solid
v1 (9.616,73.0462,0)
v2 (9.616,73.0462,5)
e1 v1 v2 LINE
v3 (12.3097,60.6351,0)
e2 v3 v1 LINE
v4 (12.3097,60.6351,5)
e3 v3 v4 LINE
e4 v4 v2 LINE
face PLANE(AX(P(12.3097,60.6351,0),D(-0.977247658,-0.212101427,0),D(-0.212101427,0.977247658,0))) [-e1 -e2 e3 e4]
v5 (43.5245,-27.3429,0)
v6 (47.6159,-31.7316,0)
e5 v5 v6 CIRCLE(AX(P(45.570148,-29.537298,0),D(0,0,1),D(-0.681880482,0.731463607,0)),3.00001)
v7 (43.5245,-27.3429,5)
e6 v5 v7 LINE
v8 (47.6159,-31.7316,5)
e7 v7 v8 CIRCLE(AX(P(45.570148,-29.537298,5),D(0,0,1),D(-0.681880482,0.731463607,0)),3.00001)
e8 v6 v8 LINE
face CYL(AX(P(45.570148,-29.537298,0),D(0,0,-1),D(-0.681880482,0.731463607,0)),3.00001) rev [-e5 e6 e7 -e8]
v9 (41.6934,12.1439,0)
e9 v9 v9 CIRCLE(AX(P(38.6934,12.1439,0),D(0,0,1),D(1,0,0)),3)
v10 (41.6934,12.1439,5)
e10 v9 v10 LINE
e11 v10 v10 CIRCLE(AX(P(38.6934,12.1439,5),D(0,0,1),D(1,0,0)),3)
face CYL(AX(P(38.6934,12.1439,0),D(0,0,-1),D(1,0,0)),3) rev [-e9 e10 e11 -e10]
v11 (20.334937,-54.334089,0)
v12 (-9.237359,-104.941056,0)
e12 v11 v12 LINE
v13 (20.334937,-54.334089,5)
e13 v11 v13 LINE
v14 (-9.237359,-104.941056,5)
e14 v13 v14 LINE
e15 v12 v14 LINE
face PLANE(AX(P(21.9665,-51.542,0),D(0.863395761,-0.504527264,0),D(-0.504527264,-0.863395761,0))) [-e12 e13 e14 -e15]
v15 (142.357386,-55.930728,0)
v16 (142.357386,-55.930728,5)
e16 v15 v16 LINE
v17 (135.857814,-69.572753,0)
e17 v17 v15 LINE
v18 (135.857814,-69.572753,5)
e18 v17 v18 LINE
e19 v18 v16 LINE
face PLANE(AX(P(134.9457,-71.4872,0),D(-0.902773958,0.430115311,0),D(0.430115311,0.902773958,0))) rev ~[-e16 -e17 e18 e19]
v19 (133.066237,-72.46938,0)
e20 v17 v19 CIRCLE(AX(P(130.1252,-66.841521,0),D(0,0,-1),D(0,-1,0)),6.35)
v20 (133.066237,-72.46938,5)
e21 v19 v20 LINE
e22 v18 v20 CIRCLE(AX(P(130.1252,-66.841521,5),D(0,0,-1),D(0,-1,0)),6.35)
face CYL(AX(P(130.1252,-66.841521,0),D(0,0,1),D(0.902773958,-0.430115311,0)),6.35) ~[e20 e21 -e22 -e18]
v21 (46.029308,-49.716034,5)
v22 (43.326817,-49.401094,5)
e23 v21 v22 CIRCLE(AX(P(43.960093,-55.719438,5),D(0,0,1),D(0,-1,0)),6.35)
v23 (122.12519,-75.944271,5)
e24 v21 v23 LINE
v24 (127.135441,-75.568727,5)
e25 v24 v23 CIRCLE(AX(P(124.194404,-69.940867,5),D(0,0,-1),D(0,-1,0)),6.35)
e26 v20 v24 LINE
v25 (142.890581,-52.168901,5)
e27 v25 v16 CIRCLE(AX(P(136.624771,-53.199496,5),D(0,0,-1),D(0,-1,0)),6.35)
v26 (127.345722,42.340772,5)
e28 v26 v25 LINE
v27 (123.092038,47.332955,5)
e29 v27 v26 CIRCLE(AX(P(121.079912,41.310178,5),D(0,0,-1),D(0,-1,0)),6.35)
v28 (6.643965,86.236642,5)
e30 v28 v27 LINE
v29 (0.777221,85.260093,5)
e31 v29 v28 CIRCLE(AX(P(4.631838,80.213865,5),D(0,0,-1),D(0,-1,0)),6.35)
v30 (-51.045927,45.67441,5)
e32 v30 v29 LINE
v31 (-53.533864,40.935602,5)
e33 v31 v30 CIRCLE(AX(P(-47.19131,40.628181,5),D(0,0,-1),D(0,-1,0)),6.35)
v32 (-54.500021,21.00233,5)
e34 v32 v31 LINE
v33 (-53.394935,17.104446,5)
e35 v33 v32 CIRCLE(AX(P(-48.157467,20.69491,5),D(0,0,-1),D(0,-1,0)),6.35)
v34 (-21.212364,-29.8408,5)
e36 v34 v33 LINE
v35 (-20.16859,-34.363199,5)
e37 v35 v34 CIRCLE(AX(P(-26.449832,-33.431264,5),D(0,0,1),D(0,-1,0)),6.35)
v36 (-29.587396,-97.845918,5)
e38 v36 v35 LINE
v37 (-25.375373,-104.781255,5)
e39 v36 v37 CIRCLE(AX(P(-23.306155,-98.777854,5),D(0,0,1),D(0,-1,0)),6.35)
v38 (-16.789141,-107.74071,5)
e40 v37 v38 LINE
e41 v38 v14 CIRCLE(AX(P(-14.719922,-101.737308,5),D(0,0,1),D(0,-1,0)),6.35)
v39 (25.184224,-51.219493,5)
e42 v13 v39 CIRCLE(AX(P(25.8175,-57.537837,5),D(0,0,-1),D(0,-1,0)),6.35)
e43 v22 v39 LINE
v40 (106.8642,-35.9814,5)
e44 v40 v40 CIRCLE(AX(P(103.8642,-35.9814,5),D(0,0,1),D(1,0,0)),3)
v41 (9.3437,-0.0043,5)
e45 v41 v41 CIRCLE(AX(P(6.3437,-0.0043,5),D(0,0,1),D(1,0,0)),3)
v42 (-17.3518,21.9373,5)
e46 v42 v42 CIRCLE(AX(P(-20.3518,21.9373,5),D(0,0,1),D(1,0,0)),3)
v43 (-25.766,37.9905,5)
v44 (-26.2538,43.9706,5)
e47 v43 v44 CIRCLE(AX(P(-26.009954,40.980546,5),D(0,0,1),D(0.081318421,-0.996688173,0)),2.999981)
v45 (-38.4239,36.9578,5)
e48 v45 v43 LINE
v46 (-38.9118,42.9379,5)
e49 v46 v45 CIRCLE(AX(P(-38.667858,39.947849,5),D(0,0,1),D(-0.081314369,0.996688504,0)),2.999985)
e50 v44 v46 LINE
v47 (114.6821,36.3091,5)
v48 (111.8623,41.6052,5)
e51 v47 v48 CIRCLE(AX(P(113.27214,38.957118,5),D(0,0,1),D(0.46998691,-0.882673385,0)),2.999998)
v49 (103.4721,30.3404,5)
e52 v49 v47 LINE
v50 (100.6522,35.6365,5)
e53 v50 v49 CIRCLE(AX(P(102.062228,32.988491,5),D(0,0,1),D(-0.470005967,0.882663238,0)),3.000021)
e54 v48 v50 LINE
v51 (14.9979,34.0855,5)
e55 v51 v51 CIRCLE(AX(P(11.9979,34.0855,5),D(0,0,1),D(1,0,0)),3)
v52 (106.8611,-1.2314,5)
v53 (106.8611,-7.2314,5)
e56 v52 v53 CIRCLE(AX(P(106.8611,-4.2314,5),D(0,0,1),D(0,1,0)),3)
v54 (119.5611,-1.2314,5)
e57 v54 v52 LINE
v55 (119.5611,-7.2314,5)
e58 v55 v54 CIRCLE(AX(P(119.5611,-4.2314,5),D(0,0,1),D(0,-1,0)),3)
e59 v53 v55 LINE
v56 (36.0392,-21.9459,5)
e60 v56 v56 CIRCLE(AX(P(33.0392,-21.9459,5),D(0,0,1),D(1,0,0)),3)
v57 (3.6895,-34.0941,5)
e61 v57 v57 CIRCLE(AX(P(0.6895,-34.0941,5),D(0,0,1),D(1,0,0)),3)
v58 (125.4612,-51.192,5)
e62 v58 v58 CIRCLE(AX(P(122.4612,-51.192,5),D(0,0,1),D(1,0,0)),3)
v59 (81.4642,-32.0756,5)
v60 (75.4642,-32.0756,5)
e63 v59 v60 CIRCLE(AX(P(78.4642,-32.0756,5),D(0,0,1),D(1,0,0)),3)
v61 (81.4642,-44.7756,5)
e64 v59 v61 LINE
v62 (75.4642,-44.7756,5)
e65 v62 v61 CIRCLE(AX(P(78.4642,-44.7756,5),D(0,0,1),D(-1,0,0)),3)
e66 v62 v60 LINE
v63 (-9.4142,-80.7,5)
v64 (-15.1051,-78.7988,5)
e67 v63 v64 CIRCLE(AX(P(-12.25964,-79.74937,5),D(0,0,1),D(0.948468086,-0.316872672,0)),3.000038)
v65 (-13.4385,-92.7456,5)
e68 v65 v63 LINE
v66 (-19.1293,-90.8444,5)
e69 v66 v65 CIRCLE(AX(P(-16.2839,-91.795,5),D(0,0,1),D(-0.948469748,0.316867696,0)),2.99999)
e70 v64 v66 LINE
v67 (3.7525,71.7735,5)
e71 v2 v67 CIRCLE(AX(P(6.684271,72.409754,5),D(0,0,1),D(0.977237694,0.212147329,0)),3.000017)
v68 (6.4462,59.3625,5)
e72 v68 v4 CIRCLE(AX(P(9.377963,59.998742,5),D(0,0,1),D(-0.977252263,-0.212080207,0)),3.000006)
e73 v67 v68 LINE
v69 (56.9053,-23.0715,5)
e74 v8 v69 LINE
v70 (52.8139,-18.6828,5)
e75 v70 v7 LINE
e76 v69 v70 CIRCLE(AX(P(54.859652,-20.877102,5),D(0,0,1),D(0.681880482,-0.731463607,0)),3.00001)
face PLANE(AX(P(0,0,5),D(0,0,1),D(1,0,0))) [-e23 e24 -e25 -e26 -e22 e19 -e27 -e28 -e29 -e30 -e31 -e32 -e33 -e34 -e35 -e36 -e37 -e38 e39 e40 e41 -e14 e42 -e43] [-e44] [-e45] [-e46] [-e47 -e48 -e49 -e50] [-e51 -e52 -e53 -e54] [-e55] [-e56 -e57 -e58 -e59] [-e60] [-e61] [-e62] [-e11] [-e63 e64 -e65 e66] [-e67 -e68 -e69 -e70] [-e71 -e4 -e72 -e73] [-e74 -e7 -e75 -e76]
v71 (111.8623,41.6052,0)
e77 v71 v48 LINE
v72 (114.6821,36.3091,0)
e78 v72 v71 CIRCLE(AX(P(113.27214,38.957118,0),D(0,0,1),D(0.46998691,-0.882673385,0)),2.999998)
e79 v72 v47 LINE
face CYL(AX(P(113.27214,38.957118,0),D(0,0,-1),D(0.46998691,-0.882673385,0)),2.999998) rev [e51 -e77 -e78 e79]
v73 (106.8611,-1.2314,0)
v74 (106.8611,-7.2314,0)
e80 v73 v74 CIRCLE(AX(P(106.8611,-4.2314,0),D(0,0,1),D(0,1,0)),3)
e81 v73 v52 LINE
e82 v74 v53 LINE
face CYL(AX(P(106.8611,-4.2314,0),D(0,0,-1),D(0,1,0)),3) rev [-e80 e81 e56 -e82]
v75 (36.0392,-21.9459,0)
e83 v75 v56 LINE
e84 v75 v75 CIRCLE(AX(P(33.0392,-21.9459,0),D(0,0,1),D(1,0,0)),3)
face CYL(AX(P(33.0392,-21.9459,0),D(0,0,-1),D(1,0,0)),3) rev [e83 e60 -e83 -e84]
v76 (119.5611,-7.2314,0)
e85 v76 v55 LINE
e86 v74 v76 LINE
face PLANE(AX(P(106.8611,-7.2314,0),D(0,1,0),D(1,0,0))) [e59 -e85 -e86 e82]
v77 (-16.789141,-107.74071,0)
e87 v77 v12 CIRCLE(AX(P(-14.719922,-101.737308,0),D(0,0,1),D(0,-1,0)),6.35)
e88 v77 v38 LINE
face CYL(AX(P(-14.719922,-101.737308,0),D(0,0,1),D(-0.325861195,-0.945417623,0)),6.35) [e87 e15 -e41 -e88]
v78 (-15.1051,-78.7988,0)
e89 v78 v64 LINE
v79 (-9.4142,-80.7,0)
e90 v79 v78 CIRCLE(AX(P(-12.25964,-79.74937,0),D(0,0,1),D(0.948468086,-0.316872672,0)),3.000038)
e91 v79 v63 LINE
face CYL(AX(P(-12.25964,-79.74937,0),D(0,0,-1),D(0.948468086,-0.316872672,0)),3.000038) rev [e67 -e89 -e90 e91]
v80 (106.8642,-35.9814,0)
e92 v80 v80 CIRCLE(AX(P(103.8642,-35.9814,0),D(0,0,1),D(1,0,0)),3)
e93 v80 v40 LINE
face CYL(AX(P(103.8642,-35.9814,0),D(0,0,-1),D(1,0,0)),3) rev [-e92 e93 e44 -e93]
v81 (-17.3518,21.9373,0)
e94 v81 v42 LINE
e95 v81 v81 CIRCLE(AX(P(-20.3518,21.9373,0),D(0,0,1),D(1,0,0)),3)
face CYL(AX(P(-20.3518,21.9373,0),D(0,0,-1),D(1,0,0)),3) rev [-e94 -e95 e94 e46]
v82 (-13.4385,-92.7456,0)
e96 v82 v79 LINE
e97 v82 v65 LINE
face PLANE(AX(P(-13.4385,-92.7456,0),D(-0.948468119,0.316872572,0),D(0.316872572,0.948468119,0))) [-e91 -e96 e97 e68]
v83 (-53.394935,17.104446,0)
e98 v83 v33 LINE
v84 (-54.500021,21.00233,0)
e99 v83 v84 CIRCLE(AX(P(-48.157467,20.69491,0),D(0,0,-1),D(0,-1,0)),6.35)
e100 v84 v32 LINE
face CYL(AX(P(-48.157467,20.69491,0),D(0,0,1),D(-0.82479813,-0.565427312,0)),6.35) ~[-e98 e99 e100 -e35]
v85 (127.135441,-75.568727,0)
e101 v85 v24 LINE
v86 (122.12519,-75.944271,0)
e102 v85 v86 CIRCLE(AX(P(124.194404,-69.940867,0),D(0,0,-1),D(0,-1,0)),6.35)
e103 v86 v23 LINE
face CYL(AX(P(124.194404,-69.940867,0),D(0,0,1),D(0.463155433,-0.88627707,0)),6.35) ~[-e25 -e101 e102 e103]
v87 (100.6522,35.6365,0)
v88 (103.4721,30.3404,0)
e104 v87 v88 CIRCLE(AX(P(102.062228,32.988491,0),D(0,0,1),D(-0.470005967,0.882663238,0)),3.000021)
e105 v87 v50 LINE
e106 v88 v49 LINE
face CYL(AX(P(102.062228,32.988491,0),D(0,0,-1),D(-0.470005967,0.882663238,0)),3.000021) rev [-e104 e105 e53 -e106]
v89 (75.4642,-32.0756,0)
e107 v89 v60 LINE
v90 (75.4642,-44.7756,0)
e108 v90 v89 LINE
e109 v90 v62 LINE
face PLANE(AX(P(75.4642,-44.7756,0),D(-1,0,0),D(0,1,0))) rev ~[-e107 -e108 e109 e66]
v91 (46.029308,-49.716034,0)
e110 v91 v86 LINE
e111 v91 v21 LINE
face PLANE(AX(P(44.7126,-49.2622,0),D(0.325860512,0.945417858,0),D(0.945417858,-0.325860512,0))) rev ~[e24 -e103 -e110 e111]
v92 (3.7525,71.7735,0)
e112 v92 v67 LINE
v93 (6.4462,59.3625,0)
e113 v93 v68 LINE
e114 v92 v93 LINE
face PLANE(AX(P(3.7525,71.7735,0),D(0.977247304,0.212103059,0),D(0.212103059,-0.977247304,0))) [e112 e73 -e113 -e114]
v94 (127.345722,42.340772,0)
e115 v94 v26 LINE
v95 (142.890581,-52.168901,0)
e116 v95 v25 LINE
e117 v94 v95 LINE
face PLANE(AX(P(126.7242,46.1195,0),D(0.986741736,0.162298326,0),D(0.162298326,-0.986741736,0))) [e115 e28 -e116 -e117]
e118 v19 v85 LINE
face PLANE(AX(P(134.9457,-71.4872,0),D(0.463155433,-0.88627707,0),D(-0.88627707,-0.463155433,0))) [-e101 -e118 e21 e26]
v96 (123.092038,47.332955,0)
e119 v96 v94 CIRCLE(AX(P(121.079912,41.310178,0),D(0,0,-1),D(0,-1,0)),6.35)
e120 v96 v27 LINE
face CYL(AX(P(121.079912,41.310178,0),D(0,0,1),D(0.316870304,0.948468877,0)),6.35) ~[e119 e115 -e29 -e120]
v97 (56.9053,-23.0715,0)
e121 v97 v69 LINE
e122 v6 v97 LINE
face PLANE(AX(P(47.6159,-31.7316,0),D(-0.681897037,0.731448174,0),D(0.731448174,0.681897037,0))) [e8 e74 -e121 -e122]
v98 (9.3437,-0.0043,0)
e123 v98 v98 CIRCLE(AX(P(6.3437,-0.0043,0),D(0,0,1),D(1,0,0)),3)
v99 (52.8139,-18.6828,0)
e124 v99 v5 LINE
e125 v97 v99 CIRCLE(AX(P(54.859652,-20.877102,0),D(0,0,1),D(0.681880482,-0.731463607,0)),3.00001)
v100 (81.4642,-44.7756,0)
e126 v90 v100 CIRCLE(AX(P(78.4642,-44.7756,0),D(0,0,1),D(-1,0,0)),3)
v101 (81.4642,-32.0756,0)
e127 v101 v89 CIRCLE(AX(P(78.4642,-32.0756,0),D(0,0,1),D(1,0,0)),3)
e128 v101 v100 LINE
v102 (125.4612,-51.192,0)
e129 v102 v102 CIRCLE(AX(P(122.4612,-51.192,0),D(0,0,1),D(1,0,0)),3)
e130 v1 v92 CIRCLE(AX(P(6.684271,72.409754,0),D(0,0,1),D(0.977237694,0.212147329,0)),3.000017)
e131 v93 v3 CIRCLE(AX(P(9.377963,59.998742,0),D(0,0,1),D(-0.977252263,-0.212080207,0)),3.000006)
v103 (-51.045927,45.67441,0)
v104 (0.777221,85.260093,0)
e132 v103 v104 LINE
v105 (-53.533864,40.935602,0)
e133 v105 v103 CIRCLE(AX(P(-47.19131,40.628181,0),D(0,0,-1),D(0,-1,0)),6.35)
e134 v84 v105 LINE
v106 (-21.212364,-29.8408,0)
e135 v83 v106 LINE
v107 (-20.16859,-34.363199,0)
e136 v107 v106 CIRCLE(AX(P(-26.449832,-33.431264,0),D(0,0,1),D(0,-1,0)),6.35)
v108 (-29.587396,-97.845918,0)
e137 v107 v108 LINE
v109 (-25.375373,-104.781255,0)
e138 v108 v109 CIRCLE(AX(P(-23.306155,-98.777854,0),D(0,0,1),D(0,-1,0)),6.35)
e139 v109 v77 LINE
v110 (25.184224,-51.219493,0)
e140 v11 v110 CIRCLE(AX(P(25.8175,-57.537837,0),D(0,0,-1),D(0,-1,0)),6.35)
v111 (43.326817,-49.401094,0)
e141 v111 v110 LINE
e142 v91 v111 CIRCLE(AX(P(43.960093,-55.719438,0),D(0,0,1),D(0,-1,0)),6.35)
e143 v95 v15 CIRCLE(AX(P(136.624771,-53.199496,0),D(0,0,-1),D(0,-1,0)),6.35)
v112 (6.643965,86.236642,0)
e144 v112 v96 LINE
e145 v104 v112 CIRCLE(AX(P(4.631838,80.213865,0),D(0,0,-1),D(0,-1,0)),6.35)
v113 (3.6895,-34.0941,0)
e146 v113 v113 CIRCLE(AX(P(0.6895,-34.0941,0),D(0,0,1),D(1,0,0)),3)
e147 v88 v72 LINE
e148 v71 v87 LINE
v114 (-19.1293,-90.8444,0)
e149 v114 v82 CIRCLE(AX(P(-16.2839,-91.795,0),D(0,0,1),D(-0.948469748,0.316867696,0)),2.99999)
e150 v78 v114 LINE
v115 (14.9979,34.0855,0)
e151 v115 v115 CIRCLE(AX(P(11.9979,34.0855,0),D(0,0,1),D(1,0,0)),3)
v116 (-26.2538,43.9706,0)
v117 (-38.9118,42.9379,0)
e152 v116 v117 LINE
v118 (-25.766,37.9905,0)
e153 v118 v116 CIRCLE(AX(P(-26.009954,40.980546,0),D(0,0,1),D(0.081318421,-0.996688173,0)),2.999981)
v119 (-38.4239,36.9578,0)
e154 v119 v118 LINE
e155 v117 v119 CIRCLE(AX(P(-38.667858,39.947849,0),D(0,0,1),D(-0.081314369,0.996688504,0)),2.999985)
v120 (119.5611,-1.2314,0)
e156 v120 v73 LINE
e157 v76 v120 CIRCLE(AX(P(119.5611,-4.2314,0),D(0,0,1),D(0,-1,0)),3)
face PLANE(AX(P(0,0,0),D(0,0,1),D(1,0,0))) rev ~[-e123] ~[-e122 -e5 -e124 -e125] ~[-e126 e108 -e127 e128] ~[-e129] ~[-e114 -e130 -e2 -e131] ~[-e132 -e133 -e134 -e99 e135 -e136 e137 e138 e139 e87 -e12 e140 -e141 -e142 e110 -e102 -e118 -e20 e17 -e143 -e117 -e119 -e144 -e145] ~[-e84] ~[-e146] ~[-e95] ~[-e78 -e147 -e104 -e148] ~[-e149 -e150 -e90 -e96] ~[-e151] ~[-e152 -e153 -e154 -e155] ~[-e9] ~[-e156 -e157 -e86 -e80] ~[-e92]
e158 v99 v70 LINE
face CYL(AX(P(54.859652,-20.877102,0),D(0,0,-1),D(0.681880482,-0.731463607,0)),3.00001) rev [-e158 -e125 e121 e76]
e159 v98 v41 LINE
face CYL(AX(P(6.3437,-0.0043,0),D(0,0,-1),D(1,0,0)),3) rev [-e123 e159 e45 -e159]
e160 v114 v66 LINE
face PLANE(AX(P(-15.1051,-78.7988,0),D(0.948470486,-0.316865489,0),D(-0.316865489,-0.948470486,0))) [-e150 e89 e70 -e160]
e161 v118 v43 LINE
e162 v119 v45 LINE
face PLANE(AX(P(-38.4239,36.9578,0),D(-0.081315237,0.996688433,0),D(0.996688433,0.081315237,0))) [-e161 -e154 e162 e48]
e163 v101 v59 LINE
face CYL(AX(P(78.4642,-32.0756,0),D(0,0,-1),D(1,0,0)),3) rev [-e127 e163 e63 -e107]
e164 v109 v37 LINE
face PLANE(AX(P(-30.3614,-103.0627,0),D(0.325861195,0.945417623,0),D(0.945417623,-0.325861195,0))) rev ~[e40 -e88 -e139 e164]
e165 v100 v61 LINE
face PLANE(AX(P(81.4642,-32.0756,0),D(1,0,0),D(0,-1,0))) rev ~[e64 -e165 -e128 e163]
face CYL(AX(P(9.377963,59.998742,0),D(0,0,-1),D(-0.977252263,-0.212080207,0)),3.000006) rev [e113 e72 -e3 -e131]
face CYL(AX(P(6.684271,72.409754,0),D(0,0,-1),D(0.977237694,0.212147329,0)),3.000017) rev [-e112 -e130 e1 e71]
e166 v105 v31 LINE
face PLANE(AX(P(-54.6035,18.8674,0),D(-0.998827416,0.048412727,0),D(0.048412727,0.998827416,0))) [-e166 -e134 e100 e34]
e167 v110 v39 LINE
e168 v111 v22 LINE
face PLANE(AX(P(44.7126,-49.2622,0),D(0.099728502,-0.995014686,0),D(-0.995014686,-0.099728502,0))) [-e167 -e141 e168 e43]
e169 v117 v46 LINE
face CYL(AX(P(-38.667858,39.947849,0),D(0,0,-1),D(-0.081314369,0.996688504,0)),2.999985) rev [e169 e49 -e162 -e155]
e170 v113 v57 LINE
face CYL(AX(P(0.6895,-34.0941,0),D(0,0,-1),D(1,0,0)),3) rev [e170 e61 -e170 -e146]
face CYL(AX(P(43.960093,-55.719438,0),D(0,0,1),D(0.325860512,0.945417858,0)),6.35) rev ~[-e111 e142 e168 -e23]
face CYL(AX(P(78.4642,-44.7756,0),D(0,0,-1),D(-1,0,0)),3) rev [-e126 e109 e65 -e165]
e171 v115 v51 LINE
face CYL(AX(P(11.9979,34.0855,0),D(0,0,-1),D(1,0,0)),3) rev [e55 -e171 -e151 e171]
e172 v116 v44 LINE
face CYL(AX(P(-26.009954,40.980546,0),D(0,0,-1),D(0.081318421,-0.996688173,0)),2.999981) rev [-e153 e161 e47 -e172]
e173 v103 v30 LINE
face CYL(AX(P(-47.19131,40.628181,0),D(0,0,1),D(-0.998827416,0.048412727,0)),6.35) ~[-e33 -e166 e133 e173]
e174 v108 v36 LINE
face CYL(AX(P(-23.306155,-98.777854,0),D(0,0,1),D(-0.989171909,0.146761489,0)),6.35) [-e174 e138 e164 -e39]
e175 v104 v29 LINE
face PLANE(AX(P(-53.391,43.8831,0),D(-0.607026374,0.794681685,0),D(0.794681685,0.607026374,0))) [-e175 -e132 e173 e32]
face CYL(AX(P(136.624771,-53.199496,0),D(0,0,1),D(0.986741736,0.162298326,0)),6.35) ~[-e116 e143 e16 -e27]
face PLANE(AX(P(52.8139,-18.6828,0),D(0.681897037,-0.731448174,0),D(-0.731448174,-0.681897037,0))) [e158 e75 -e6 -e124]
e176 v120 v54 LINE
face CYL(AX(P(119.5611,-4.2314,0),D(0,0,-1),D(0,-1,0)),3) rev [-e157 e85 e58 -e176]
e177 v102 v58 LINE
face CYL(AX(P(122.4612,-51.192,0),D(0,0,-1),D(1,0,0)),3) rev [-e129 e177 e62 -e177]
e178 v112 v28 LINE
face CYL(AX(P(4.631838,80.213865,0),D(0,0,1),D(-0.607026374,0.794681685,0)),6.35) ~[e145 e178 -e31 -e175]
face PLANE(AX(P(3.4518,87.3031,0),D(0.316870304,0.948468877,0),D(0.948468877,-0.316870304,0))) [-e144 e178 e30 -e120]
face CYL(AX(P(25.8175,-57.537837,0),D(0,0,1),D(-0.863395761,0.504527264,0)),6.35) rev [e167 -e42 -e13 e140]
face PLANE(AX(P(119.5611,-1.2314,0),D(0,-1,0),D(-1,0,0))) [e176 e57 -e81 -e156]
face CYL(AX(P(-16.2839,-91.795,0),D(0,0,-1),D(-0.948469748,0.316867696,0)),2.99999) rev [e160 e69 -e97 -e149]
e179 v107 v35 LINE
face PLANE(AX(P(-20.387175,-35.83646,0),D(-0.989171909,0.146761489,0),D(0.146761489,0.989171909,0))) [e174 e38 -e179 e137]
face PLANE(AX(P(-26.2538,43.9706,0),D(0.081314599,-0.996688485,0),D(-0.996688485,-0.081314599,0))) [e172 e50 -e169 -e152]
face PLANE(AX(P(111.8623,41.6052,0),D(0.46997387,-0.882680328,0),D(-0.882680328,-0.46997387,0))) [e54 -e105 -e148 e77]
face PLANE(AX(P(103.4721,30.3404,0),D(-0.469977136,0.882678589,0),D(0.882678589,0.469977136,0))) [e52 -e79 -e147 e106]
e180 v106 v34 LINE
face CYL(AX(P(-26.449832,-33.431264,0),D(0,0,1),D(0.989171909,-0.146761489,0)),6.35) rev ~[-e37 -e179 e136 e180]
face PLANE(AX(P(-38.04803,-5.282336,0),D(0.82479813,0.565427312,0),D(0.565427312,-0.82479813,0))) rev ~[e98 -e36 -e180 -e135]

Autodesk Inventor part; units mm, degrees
ref_plane "YZ Plane" through (0, 0, 0) normal (1, 0, 0) x (0, 1, 0)
ref_plane "XZ Plane" through (0, 0, 0) normal (0, 1, 0) x (-1, 0, 0)
ref_plane "XY Plane" through (0, 0, 0) normal (0, 0, 1) x (1, 0, 0)
sketch "Base" plane through (0, 0, 0) normal (0, 0, 1) x (1, 0, 0)
  circle A0 centre (6.3437, -0.0043) radius 44.7044
  line L0 (-53.391, 43.8831) -> (3.4518, 87.3031)
  line L1 (3.4518, 87.3031) -> (126.7242, 46.1195)
  line L2 (21.9665, -51.542) -> (-11.8651, -109.4379)
  line L3 (134.9457, -71.4872) -> (143.2137, -54.1334)
  line L4 (44.7126, -49.2622) -> (124.7112, -76.8356)
  line L5 (44.7126, -49.2622) -> (21.9665, -51.542)
  line L6 (126.7242, 46.1195) -> (143.2137, -54.1334)
  line L7 (134.9457, -71.4872) -> (124.7112, -76.8356)
  line L8 (-30.3614, -103.0627) -> (-11.8651, -109.4379)
  line L9 (-30.3614, -103.0627) -> (-19.8027, -31.8971)
  line L10 (-54.6035, 18.8674) -> (-53.391, 43.8831)
  line L11 (-54.6035, 18.8674) -> (-19.8027, -31.8971)
  line L12 (-94.1669, 0) -> (182.7771, 0) construction
  circle A1 centre (6.3437, -0.0043) radius 3
  circle A2 centre (103.8642, -35.9814) radius 3
  line L13 (126.7242, 46.1195) -> (-19.8027, -31.8971) construction
  line L14 (3.4518, 87.3031) -> (33.3396, -50.4021) construction
  line L15 (-53.9972, 31.3753) -> (126.7242, 46.1195) construction
  line L16 (134.969, -4.007) -> (-37.2031, -6.5149) construction
  line L17 (-21.1132, -106.2503) -> (39.5241, 75.2519) construction
  line L18 (78.4642, -60.8955) -> (78.4642, 62.2425) construction
  line L19 (21.9665, -51.542) -> (126.7242, 46.1195) construction
  line L20 (0, 0) -> (-53.391, 43.8831) construction
  circle A3 centre (-20.3518, 21.9373) radius 3
  circle A4 centre (6.3437, -0.0043) radius 34.5555 construction
  circle A5 centre (-26.006, -12.1525) radius 3
  circle A6 centre (0.6895, -34.0941) radius 3
  circle A7 centre (33.0392, -21.9459) radius 3
  circle A8 centre (38.6934, 12.1439) radius 3
  circle A9 centre (11.9979, 34.0855) radius 3
  line L21 (113.2722, 38.9571) -> (102.0622, 32.9885) construction
  line L22 (111.8623, 41.6052) -> (100.6522, 35.6365)
  line L23 (103.4721, 30.3404) -> (114.6821, 36.3091)
  arc A10 (114.6821, 36.3091) -> (111.8623, 41.6052) centre (113.2722, 38.9571) ccw
  arc A11 (100.6522, 35.6365) -> (103.4721, 30.3404) centre (102.0622, 32.9885) ccw
  line L24 (119.5611, -4.2314) -> (106.8611, -4.2314) construction
  line L25 (119.5611, -1.2314) -> (106.8611, -1.2314)
  line L26 (106.8611, -7.2314) -> (119.5611, -7.2314)
  arc A12 (119.5611, -7.2314) -> (119.5611, -1.2314) centre (119.5611, -4.2314) ccw
  arc A13 (106.8611, -1.2314) -> (106.8611, -7.2314) centre (106.8611, -4.2314) ccw
  line L27 (6.6843, 72.4098) -> (9.378, 59.9988) construction
  line L28 (3.7525, 71.7735) -> (6.4462, 59.3625)
  line L29 (12.3097, 60.6351) -> (9.616, 73.0462)
  arc A14 (9.616, 73.0462) -> (3.7525, 71.7735) centre (6.6843, 72.4098) ccw
  arc A15 (6.4462, 59.3625) -> (12.3097, 60.6351) centre (9.378, 59.9988) ccw
  line L30 (-16.2839, -91.795) -> (-12.2597, -79.7494) construction
  line L31 (-13.4385, -92.7456) -> (-9.4142, -80.7)
  line L32 (-15.1051, -78.7988) -> (-19.1293, -90.8444)
  arc A16 (-19.1293, -90.8444) -> (-13.4385, -92.7456) centre (-16.2839, -91.795) ccw
  arc A17 (-9.4142, -80.7) -> (-15.1051, -78.7988) centre (-12.2597, -79.7494) ccw
  line L33 (78.4642, -44.7756) -> (78.4642, -32.0756) construction
  line L34 (75.4642, -44.7756) -> (75.4642, -32.0756)
  line L35 (81.4642, -32.0756) -> (81.4642, -44.7756)
  arc A18 (75.4642, -44.7756) -> (81.4642, -44.7756) centre (78.4642, -44.7756) ccw
  arc A19 (81.4642, -32.0756) -> (75.4642, -32.0756) centre (78.4642, -32.0756) ccw
  line L36 (-38.6678, 39.9478) -> (-26.0099, 40.9805) construction
  line L37 (-38.4239, 36.9578) -> (-25.766, 37.9905)
  line L38 (-26.2538, 43.9706) -> (-38.9118, 42.9379)
  arc A20 (-38.9118, 42.9379) -> (-38.4239, 36.9578) centre (-38.6678, 39.9478) ccw
  arc A21 (-25.766, 37.9905) -> (-26.2538, 43.9706) centre (-26.0099, 40.9805) ccw
  line L39 (45.5702, -29.5373) -> (54.8596, -20.8771) construction
  line L40 (47.6159, -31.7316) -> (56.9053, -23.0715)
  line L41 (52.8139, -18.6828) -> (43.5245, -27.3429)
  arc A22 (43.5245, -27.3429) -> (47.6159, -31.7316) centre (45.5702, -29.5373) ccw
  arc A23 (56.9053, -23.0715) -> (52.8139, -18.6828) centre (54.8596, -20.8771) ccw
  line L42 (-38.6678, 39.9478) -> (-53.391, 43.8831) construction
  circle A24 centre (122.4612, -51.192) radius 3
  point P0 (107.6672, 35.9728)
  point P1 (113.2111, -4.2314)
  point P2 (8.0311, 66.2043)
  point P3 (-14.2718, -85.7722)
  point P4 (78.4642, -38.4256)
  point P5 (-32.3389, 40.4642)
  point P6 (50.2149, -25.2072)
  dimension "d48" = 69.111
  dimension "d1" = 89.4088
  dimension "d2" = 55.568
  dimension "d3" = 37.094
  dimension "d4" = 120.3
  dimension "d5" = 81.561
  dimension "d6" = 160.982
  dimension "d7" = 133.392
  dimension "d8" = 143.066
  dimension "d9" = 145.185
  dimension "d10" = 124.151
  dimension "d11" = 130.15
  dimension "d12" = 142.793
  dimension "d13" = 117.814
  dimension "d14" = 19.5642
  dimension "d15" = 25.0158
  dimension "d16" = 71.529
  dimension "d17" = 61.5478
  dimension "d18" = 129.9699
  dimension "d19" = 101.6
  dimension "d20" = 19.2227
  dimension "d21" = 11.5477
  dimension "d22" = 84.6172
  dimension "d23" = 67.056
  dimension "d24" = 22.86
  dimension "d25" = 39.5986
  dimension "d26" = 71.1371
  dimension "d29" = 6
  dimension "d30" = 6
  dimension "d31" = 48.26
  dimension "d32" = 6
  dimension "d35" = 360
  dimension "d37" = 6
  dimension "d38" = 6
  dimension "d39" = 15.24
  dimension "d40" = 12.7
  dimension "d41" = 15.24
  dimension "d43" = 15.24
  dimension "d44" = 15.24
  dimension "d45" = 15.24
  dimension "d46" = 15.7016
  dimension "d49" = 140.583
  dimension "d50" = 4.2314
  dimension "d51" = 91.5631
  dimension "d52" = 12.1439
  dimension "d53" = 0
  dimension "d60" = 126.024
  dimension "d61" = 155.259
  dimension "d63" = 15.24
  dimension "d64" = 12.0647
  dimension "d67" = 25.4
  dimension "d68" = 31.75
  dimension "d69" = 6
  dimension "d70" = 20
  dimension "d71" = 20
  dimension "d72" = 3
  dimension "d73" = 3
  dimension "d74" = 3
  dimension "d75" = 3
  dimension "d76" = 3
  dimension "d77" = 3
  dimension "d78" = 3
  dimension "d79" = 3
  dimension "d80" = 3
  dimension "d81" = 3
extrude "Plate1" add sketch "Base" along normal blind 5 contours A0 L9 L11 | A0 L11 L10 L0 L1 L6 L3 L7 L4 L5 L2 L8 L9 | A5 picked at (-13.3863, 3.3874)
fillet "OutsideFilletsFeature" radius 6.35 12 edges at (126.7242, 46.1195, 2.5) (3.4518, 87.3031, 2.5) (143.2137, -54.1334, 2.5) (134.9457, -71.4872, 2.5) (124.7112, -76.8356, 2.5) (-11.8651, -109.4379, 2.5) (44.7126, -49.2622, 2.5) (21.9665, -51.542, 2.5) (-30.3614, -103.0627, 2.5) (-19.8027, -31.8971, 2.5) (-54.6035, 18.8674, 2.5) (-53.391, 43.8831, 2.5)
sketch "HandleAttachment" plane through (0, 0, 0) normal (0, 0, -1) x (-1, 0, 0)
  circle A0 centre (-122.4612, -51.192) radius 3 projected
  point P0 (0, 0)
equation "\"d41\" = d39"
equation "\"d43\" = d39"
equation "\"d44\" = d43"
equation "\"d45\" = d43"
equation "\"d47\" = Thickness"
equation "\"Thickness\" = 5"
properties part number "UpperLeg2"
